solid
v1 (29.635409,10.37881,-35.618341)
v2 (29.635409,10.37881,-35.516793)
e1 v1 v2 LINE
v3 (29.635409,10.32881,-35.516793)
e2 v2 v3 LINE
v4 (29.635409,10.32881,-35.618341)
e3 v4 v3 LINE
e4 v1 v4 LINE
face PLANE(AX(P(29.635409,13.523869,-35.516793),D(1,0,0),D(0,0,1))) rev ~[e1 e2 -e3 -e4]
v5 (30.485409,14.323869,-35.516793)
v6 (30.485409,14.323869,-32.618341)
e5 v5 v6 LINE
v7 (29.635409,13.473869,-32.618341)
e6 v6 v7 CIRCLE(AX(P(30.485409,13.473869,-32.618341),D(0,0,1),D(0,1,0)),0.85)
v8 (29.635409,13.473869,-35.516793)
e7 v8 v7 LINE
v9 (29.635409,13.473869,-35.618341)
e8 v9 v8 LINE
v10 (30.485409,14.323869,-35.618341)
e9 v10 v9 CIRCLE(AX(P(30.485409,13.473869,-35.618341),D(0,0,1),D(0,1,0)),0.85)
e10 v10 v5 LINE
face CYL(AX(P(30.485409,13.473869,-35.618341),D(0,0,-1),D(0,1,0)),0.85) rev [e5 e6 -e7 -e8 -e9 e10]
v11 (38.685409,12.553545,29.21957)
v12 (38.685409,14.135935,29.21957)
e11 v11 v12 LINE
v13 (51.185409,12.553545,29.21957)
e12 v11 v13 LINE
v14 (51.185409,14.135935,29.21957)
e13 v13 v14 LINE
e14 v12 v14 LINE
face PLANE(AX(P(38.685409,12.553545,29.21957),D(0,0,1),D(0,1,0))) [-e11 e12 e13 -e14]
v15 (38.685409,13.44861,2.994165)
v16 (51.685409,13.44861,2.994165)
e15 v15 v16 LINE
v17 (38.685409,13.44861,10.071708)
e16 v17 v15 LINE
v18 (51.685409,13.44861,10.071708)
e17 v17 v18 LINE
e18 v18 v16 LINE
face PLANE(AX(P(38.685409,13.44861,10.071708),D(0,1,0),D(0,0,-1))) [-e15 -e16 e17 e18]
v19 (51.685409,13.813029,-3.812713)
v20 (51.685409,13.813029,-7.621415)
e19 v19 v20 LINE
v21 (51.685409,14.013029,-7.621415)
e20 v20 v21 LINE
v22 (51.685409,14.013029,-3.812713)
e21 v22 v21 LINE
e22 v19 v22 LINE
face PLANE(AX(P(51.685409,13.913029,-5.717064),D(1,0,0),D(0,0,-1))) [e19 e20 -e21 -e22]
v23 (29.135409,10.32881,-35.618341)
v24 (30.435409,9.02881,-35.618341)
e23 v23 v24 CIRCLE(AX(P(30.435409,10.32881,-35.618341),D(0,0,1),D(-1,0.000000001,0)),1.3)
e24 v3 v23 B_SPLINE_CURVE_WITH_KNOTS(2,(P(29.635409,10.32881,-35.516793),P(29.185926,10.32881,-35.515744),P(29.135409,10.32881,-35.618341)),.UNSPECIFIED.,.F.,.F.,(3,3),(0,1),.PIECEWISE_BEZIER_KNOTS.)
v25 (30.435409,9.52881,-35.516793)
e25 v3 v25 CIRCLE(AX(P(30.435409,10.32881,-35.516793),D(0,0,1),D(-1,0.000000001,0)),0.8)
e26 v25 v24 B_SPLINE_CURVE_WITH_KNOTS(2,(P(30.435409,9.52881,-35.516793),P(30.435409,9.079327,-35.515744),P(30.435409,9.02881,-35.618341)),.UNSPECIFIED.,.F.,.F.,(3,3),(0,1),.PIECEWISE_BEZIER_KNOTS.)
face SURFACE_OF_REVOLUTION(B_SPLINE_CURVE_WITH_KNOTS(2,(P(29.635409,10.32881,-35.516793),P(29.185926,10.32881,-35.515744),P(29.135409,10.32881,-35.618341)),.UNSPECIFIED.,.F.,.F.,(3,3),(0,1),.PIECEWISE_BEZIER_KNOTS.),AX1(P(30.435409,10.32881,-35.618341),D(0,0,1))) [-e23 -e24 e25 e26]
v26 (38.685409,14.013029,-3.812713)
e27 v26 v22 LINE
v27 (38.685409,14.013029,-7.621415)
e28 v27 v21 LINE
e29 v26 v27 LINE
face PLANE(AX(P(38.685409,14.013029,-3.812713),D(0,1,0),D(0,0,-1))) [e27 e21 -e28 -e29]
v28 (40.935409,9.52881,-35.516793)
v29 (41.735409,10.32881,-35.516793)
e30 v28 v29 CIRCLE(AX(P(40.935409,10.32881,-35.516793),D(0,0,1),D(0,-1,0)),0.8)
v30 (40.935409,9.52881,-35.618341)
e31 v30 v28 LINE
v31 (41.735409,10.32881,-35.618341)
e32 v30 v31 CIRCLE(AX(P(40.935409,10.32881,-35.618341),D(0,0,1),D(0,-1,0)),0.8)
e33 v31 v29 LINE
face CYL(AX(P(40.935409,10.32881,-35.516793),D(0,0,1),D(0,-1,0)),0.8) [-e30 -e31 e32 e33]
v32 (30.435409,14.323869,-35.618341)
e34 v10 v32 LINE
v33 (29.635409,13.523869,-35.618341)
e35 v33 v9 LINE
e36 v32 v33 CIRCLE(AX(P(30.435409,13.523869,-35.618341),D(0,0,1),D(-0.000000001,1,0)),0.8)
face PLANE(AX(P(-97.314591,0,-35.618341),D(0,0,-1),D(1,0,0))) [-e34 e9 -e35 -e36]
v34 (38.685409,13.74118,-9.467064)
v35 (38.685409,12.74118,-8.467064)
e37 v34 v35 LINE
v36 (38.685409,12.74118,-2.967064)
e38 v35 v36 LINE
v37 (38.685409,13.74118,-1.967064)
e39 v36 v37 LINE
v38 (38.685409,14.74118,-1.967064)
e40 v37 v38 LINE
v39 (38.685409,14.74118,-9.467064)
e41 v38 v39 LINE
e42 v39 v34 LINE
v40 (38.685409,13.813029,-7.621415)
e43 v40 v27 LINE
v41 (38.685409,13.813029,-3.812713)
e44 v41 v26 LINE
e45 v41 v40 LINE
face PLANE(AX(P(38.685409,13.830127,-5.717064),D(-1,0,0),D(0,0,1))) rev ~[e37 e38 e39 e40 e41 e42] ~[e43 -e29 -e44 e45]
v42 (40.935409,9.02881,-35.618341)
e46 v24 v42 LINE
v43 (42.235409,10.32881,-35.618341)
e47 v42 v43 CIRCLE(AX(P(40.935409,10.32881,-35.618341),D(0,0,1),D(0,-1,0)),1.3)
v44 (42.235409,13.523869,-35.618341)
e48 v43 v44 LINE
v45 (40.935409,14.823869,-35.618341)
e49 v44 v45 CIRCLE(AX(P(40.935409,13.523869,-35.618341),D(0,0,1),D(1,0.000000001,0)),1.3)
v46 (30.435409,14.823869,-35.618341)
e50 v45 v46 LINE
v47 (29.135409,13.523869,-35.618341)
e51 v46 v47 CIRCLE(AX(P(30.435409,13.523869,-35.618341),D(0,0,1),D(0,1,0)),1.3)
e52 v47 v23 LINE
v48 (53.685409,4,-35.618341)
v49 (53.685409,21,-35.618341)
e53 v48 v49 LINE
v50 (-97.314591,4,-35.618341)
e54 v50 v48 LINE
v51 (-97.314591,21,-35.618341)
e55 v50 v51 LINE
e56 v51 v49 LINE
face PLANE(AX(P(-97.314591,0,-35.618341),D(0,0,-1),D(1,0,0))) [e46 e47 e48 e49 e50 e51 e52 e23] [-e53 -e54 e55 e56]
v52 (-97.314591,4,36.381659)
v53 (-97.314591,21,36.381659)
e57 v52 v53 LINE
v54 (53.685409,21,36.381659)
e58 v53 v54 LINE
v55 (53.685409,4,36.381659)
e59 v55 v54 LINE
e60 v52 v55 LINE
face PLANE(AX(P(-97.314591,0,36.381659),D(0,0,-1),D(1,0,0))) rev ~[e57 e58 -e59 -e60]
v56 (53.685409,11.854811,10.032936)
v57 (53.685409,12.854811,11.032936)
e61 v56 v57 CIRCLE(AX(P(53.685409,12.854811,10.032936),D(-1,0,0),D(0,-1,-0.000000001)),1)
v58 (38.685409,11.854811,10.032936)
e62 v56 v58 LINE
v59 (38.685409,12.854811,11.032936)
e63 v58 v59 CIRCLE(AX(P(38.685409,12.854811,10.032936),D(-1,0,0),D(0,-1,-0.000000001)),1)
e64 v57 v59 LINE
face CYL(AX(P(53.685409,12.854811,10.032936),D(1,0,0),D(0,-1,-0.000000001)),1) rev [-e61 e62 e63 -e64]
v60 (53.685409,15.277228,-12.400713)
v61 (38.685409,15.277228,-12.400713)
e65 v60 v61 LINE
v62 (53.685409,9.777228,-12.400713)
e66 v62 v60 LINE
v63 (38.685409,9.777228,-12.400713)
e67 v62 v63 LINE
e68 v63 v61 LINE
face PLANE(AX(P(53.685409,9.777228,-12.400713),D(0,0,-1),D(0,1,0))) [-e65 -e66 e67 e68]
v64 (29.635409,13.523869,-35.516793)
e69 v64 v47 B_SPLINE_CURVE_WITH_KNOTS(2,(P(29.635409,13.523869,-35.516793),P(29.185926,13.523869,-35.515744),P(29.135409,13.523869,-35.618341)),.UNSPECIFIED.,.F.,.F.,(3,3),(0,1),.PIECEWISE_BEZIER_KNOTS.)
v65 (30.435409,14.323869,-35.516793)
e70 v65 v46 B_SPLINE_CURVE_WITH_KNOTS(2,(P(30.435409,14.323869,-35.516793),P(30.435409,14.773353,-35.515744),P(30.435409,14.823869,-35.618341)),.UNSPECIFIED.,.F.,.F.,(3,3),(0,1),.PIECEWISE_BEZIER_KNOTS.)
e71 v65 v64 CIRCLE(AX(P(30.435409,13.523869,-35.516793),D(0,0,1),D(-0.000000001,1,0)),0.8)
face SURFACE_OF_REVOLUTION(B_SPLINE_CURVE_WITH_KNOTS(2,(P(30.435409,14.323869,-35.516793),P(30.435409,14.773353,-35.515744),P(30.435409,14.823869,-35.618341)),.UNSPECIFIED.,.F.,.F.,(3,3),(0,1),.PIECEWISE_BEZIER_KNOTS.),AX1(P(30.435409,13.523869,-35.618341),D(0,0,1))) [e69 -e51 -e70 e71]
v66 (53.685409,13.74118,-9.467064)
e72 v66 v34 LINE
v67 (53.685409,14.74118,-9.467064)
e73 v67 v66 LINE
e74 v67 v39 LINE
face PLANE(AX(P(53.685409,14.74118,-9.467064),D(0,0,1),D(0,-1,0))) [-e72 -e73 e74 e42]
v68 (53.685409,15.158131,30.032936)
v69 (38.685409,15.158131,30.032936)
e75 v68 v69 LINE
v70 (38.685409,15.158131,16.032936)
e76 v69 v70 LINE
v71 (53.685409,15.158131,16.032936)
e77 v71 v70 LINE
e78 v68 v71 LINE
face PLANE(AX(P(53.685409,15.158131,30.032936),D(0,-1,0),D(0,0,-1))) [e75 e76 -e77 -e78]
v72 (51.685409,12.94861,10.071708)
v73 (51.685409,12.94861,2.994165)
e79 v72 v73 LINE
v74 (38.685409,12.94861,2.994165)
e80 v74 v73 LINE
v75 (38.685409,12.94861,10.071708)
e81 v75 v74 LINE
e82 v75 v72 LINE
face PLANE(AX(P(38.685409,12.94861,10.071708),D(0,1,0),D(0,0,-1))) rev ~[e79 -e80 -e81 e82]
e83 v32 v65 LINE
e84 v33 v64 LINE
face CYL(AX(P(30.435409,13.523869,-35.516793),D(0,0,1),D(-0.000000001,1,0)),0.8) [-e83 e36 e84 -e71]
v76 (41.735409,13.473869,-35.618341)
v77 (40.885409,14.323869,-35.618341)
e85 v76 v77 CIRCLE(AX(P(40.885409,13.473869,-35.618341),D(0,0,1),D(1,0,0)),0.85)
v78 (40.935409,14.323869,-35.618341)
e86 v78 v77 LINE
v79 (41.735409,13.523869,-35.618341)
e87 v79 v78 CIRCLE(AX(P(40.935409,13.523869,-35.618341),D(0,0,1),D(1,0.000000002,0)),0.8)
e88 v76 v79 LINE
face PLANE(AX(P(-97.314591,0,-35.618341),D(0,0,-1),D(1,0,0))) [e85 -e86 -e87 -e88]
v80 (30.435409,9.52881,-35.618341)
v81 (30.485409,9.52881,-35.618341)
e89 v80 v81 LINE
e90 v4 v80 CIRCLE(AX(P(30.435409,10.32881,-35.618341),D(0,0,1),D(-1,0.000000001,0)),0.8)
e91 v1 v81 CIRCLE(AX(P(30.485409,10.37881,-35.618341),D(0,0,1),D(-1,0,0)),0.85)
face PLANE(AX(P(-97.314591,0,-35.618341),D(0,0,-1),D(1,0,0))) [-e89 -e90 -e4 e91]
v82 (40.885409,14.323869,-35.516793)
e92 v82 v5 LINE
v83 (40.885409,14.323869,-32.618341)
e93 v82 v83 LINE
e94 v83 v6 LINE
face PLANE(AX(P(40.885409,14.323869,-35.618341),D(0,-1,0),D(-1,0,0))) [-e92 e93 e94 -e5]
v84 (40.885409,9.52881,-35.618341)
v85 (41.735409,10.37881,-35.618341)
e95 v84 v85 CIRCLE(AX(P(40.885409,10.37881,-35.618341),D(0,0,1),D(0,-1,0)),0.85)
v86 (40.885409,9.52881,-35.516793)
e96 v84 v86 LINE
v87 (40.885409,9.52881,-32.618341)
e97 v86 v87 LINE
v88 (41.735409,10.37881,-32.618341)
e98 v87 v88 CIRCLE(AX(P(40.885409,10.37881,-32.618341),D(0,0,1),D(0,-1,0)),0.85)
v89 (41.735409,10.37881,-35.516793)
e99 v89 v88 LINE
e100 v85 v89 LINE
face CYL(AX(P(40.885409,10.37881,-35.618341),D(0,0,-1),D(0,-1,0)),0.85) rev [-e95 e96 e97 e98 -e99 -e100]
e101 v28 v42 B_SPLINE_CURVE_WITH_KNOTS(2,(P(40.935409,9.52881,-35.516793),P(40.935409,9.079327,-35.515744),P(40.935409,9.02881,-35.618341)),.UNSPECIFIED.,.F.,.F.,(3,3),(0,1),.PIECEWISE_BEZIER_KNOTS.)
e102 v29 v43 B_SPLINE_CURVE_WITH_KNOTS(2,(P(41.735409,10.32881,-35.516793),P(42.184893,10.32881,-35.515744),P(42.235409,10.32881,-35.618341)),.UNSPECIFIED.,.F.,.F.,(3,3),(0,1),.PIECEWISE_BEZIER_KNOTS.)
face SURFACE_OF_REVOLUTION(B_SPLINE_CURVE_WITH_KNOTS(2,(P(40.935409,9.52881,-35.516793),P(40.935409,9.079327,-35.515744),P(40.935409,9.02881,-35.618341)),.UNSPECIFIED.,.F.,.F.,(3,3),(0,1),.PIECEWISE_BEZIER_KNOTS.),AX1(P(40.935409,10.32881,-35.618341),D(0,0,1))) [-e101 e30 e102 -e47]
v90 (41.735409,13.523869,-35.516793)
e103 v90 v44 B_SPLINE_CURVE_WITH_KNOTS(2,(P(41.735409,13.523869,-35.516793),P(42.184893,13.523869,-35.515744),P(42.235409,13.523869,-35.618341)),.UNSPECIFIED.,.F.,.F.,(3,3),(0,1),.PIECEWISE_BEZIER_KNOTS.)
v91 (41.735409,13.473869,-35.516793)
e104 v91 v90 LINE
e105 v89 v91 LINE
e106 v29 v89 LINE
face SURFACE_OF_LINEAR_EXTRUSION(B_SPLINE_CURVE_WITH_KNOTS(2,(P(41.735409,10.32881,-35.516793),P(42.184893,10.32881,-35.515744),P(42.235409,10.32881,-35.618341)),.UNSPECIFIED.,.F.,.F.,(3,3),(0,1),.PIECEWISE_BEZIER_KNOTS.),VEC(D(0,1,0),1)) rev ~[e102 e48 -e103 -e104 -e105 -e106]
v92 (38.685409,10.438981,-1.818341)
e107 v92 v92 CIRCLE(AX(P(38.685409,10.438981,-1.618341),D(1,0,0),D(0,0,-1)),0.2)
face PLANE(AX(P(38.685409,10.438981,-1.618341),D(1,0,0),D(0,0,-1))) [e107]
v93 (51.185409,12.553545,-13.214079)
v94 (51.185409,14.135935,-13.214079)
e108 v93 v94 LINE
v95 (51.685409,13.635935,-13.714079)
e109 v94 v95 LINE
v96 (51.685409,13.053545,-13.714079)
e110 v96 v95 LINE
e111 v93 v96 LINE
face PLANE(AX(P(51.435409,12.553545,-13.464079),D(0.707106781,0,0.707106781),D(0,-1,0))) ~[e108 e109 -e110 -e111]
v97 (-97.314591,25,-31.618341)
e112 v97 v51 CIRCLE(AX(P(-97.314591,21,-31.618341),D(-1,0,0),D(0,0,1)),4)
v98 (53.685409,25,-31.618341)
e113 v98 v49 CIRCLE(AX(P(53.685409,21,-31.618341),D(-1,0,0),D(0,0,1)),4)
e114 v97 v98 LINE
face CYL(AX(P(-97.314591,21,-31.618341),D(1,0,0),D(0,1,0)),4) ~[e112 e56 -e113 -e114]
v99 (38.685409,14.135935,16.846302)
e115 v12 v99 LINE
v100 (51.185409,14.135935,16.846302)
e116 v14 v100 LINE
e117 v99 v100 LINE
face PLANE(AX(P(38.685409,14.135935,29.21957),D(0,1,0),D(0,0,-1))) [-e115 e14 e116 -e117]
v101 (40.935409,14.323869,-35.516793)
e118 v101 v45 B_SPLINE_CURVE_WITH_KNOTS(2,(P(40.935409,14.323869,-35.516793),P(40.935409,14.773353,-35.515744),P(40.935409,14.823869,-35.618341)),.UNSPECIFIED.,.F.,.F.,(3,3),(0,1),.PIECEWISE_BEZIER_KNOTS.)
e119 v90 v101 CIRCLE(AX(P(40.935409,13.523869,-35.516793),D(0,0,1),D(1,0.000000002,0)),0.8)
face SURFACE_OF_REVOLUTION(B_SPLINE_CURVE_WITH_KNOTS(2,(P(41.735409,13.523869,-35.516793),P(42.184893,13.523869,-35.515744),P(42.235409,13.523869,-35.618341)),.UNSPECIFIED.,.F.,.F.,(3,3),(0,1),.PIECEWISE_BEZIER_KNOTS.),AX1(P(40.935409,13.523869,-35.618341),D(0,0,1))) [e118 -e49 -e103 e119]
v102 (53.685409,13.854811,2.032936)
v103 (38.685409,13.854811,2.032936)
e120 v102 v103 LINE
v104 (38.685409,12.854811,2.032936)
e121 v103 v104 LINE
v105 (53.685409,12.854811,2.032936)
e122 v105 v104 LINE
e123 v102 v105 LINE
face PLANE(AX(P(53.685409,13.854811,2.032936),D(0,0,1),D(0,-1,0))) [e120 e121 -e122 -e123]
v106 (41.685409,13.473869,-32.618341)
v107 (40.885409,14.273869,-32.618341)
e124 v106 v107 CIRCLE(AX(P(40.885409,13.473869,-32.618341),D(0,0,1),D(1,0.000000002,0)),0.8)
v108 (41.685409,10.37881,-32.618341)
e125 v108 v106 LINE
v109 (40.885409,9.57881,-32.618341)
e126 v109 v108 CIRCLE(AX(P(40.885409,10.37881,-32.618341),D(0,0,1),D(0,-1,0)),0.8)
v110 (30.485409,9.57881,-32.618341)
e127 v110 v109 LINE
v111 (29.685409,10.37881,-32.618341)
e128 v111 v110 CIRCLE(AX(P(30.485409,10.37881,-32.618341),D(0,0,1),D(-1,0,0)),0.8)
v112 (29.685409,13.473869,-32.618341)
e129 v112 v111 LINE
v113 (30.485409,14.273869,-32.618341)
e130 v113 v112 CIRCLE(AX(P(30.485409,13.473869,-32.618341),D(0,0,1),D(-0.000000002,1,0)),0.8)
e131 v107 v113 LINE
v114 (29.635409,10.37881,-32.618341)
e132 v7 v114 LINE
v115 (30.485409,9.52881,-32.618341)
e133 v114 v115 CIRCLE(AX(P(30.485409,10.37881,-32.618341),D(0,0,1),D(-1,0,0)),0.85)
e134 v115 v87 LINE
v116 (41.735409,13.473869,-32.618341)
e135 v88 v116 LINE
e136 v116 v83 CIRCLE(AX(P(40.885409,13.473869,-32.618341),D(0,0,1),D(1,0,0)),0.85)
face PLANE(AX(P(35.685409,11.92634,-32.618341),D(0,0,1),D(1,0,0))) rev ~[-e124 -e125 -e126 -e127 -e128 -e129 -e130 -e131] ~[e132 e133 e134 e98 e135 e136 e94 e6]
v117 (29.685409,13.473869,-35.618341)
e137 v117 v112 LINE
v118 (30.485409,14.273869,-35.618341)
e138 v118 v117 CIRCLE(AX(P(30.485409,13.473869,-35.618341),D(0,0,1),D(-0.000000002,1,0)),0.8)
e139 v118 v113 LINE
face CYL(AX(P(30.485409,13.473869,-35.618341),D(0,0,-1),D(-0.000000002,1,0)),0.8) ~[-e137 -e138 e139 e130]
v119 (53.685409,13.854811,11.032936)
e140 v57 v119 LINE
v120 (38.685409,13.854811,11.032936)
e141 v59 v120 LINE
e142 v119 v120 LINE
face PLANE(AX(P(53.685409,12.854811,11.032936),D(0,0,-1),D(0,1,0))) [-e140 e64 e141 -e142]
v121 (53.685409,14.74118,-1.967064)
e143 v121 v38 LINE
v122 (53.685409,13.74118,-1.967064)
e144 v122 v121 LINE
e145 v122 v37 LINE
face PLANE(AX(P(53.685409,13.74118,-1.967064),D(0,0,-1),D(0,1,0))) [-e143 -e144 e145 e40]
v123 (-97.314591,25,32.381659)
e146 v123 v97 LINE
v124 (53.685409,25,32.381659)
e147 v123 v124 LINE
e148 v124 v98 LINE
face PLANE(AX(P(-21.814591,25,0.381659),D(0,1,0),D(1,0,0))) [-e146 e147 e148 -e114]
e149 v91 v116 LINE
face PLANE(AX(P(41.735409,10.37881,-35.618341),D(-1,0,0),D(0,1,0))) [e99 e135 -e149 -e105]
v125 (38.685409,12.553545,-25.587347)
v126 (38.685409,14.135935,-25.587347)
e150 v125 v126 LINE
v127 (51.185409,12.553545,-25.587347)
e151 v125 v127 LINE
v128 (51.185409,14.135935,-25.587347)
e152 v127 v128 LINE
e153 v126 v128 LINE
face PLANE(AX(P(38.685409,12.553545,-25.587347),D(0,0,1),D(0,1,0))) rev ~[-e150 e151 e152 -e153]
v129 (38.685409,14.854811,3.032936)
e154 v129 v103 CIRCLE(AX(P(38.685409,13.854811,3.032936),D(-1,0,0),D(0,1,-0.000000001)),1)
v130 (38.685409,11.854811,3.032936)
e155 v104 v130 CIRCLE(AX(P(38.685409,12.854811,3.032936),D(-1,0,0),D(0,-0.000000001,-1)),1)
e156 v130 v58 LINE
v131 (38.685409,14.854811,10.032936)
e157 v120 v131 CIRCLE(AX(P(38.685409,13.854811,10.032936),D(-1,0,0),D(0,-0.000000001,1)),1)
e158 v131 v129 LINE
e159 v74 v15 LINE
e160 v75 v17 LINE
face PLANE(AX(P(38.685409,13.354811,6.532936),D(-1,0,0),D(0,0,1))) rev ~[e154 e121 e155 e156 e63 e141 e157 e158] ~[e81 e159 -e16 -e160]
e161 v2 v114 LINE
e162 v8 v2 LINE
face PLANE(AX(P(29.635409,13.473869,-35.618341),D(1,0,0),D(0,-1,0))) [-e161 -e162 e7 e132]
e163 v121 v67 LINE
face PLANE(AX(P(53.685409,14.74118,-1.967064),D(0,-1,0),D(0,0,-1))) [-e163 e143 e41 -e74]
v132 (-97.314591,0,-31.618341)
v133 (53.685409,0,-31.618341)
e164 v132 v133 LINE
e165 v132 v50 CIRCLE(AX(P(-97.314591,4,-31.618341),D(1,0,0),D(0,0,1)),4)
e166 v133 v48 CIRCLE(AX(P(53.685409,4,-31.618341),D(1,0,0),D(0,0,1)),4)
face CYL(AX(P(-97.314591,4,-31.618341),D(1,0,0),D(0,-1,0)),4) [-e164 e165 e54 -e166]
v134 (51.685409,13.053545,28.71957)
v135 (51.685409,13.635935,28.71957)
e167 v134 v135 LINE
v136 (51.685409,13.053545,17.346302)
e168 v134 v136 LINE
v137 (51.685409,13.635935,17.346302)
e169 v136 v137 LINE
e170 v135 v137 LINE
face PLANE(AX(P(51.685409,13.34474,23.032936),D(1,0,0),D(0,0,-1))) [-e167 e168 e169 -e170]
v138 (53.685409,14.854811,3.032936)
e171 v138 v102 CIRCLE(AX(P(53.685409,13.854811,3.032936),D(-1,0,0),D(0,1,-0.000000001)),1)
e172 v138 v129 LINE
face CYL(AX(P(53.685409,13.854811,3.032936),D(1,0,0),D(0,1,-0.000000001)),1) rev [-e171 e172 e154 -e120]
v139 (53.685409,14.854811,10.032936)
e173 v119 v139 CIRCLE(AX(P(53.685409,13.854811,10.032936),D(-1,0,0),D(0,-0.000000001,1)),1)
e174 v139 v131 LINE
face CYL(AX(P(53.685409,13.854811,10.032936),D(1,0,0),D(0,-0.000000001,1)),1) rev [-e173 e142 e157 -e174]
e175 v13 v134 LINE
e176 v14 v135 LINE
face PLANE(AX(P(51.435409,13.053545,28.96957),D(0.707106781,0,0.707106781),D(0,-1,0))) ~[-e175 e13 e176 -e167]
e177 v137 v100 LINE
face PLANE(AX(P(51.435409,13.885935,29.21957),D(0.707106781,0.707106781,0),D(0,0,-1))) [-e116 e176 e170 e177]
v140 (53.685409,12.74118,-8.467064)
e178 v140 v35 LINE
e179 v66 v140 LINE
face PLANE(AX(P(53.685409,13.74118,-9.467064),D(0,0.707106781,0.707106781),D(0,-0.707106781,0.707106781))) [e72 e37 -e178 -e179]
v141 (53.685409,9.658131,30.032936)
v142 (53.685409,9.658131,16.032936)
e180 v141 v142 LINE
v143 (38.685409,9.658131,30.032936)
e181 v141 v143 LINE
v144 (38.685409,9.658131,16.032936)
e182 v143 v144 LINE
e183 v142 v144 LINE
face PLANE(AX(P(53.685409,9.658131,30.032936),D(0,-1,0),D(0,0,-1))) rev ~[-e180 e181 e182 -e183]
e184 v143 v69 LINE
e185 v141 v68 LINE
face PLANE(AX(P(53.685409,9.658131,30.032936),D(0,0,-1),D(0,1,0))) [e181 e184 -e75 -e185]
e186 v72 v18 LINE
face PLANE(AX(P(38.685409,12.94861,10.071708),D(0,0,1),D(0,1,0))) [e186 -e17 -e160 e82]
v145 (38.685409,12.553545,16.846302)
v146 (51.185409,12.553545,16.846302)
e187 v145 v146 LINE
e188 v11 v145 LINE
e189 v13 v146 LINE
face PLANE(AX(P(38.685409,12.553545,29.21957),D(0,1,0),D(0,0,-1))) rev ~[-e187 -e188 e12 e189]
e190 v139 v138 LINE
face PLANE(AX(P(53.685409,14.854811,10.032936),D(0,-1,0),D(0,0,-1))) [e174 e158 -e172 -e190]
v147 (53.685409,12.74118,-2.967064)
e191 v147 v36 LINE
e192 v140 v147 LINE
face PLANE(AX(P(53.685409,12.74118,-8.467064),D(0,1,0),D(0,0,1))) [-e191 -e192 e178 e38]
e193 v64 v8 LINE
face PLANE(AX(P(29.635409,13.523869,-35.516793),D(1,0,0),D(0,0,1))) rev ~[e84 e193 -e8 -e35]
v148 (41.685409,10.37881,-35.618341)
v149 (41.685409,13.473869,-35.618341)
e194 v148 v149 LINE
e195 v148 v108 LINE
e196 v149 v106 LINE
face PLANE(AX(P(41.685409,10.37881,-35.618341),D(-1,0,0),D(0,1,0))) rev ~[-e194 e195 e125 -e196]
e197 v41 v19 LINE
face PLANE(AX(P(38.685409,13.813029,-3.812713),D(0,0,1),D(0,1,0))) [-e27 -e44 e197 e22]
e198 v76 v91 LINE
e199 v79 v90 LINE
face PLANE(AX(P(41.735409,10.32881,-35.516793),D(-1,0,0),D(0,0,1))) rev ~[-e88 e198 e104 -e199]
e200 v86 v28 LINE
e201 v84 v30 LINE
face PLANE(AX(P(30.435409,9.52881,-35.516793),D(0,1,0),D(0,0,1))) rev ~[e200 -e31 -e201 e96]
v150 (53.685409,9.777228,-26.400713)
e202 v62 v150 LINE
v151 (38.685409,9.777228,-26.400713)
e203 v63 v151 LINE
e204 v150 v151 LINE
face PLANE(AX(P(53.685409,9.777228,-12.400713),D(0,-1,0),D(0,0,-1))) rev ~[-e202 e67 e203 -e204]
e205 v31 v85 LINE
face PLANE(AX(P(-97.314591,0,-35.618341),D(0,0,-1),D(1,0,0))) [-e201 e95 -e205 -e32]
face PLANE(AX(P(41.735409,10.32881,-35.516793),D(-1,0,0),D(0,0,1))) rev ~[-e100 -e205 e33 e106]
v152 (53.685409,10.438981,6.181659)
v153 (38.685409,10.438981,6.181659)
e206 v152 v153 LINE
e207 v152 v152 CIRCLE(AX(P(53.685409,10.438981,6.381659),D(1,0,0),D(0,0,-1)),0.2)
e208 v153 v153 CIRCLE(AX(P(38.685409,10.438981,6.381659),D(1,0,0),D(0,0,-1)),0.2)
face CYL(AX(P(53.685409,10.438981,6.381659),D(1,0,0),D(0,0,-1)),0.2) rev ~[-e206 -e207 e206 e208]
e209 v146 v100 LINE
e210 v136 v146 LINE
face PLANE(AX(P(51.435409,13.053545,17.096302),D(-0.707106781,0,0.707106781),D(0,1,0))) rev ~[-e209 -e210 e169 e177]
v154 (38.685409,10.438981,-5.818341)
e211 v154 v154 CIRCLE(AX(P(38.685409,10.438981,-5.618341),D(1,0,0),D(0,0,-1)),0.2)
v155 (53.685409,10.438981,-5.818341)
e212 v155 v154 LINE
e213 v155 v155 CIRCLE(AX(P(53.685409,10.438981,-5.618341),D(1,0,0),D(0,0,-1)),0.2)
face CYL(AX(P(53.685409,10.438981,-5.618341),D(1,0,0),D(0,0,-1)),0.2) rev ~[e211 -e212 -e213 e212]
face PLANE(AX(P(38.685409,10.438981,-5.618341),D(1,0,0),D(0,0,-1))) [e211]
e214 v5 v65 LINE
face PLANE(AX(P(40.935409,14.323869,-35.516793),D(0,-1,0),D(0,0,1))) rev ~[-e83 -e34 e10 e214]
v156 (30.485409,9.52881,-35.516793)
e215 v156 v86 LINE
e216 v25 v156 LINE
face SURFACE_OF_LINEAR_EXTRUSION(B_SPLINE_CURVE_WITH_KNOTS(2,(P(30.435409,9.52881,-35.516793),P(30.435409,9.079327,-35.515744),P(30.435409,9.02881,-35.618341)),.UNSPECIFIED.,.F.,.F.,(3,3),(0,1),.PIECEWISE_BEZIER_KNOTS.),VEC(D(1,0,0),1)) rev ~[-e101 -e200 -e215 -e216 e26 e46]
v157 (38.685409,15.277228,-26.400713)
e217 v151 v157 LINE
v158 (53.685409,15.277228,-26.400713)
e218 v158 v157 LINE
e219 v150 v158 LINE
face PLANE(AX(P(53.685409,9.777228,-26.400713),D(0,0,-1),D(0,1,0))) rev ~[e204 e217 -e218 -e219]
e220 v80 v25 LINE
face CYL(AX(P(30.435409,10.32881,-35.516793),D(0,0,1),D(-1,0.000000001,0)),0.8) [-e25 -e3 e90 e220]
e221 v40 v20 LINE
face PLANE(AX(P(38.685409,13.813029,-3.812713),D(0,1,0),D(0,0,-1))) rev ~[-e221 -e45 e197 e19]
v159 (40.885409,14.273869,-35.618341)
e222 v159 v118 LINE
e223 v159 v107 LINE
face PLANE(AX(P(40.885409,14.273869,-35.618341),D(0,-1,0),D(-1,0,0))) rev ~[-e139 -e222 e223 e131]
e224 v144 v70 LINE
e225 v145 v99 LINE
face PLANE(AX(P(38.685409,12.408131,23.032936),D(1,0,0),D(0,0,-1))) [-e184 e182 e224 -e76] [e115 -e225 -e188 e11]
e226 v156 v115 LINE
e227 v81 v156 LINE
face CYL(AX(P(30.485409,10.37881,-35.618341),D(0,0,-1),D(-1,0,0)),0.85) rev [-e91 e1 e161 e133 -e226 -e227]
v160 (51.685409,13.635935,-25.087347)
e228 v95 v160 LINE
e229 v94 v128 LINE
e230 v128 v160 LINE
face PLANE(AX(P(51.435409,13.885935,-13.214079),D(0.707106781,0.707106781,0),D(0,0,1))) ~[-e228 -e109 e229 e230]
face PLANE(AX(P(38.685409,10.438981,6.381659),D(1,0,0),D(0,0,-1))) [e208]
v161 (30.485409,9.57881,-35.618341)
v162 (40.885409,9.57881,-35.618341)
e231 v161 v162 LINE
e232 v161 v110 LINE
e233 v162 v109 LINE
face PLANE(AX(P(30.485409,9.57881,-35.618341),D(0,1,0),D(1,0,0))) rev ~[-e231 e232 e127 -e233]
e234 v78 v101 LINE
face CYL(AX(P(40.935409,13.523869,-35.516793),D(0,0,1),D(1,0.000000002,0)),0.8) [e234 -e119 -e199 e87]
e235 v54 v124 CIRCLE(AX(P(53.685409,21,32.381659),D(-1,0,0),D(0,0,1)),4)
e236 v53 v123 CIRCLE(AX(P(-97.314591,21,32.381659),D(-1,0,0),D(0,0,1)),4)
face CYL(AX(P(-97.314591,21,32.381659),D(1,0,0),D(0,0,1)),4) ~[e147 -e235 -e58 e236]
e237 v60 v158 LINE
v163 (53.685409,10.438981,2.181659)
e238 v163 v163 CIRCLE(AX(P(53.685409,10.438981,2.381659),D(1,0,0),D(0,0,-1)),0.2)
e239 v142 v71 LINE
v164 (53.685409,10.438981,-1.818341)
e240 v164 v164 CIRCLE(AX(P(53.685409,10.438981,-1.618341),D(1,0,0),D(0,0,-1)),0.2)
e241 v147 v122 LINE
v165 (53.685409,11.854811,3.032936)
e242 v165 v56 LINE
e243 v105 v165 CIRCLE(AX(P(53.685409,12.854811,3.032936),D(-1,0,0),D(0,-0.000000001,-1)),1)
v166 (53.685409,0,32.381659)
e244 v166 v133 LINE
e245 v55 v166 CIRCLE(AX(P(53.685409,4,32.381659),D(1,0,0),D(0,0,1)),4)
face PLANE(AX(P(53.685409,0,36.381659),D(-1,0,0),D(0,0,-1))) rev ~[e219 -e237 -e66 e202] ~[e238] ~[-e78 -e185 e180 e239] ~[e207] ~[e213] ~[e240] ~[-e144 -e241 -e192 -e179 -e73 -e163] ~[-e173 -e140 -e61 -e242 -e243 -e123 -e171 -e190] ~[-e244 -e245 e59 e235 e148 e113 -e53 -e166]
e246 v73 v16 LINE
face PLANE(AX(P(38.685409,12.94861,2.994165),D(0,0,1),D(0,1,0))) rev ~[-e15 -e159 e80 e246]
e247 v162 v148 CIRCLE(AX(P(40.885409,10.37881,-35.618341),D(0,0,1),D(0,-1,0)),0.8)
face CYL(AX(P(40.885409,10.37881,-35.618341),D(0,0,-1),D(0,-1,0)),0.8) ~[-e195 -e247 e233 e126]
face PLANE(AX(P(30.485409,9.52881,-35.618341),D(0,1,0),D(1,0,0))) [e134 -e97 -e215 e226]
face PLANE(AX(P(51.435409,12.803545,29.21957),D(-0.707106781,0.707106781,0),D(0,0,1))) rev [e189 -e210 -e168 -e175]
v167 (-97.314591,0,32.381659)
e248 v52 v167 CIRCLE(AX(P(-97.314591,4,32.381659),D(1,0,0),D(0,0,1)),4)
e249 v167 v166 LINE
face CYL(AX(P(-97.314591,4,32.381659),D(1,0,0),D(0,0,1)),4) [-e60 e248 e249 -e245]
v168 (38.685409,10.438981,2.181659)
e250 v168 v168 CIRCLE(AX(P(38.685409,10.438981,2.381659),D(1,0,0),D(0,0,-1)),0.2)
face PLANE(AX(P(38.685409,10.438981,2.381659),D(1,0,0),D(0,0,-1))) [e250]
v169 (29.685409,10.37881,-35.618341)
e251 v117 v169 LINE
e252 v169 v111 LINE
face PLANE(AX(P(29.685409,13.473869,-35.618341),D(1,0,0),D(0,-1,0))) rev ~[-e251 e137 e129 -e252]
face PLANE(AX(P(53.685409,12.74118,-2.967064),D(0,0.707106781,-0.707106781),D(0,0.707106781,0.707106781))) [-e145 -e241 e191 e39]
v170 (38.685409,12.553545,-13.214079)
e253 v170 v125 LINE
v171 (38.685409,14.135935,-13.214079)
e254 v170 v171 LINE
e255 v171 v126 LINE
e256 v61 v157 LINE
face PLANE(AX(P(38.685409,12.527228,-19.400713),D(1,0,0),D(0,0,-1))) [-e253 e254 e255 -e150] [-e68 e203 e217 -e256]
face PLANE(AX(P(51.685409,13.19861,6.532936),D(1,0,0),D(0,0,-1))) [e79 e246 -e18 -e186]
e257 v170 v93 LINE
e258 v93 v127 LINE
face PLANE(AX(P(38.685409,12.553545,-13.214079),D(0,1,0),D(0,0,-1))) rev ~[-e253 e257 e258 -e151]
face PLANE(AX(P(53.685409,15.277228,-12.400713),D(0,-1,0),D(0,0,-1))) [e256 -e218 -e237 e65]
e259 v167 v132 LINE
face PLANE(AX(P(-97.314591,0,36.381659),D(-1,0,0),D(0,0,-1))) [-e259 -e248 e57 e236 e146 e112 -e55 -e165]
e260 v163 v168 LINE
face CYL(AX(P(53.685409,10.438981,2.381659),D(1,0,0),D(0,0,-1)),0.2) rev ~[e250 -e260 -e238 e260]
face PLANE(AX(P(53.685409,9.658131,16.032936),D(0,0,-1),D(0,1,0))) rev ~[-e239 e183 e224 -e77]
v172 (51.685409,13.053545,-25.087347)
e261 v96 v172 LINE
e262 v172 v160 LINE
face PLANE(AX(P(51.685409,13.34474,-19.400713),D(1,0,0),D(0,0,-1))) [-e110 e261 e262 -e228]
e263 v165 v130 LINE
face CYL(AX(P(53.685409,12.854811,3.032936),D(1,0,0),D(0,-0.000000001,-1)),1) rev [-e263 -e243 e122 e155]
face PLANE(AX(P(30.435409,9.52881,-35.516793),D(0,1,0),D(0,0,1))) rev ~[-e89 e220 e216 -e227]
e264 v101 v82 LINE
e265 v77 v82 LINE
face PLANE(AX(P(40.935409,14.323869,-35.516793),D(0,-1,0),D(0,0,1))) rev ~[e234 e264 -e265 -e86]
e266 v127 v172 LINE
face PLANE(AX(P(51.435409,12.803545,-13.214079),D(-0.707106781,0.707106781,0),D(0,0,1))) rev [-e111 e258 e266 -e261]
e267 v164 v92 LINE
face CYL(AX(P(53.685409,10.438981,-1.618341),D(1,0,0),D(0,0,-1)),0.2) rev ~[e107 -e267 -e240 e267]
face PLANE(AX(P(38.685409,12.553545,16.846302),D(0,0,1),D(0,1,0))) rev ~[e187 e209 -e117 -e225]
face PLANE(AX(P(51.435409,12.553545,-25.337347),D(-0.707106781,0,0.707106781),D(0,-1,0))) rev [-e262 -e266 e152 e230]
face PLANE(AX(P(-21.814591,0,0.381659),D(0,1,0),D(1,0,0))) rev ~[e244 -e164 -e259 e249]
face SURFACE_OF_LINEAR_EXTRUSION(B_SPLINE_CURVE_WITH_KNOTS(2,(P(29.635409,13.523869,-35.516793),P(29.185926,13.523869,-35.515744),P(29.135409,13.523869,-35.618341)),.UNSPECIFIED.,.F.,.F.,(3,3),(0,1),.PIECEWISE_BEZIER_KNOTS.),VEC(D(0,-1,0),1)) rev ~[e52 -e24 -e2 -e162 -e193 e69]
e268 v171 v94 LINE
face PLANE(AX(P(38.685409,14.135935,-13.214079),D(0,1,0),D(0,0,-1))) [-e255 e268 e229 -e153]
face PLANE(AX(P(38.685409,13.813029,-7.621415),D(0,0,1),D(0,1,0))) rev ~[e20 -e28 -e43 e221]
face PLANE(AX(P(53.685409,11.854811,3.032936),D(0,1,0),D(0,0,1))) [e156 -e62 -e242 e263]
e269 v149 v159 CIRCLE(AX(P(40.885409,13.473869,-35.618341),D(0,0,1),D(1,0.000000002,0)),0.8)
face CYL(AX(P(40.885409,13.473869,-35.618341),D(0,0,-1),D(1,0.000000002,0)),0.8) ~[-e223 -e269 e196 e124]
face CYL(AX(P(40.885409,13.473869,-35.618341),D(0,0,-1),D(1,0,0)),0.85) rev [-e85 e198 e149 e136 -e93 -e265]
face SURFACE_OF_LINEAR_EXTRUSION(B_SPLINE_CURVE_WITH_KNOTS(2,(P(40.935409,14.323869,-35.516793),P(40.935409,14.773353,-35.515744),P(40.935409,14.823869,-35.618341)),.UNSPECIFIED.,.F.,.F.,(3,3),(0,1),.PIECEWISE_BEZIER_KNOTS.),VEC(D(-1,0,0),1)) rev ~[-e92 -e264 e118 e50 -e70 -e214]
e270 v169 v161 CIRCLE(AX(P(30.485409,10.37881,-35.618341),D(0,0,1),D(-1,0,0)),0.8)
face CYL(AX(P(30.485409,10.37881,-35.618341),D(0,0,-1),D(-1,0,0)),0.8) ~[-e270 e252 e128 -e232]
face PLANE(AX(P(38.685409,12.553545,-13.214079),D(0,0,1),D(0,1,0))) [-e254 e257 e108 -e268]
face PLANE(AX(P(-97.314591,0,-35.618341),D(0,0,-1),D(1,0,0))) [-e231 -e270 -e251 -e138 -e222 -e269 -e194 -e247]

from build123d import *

# Parameters (mm, degrees)
SKETCH_1_W          = 151
SKETCH_1_H          = 72
EXTRUDE_1_DEPTH     = 25
FILLET_1_R          = 4
FILLET_2_R          = 4
FILLET_3_R          = 4
FILLET_4_R          = 4
SKETCH_2_R          = 0.2
SKETCH_2_W          = 14
SKETCH_2_H          = 5.5
CUT_EXTRUDE_1_DEPTH = 15
SKETCH_3_W          = 12.373268072
SKETCH_3_H          = 1.582389444
SKETCH_3_W_2        = 7.077543374
SKETCH_3_H_2        = 0.5
SKETCH_3_W_3        = 3.808702178
SKETCH_3_H_3        = 0.2
EXTRUDE_2_DEPTH     = 13
CHAMFER_1_SIZE      = 0.5
CHAMFER_2_SIZE      = 0.5
CHAMFER_3_SIZE      = 0.5
CHAMFER_4_SIZE      = 0.5
CHAMFER_5_SIZE      = 0.5
CUT_EXTRUDE_2_DEPTH = 3


with BuildPart() as part:
    # 草图1 → 凸台-拉伸1 (new body)
    with BuildSketch(Plane(origin=(0, 0, 0), x_dir=(1, 0, 0), z_dir=(0, 1, 0))):
        with Locations((-21.814590862, -0.38165894)):
            Rectangle(SKETCH_1_W, SKETCH_1_H)
    extrude(amount=EXTRUDE_1_DEPTH)

    # 圆角1
    fillet_1_edges = [part.edges().sort_by_distance(p)[0] for p in [
        (-21.814590862, 25, 36.38165894),
    ]]
    fillet(fillet_1_edges, radius=FILLET_1_R)

    # 圆角2
    fillet_2_edges = [part.edges().sort_by_distance(p)[0] for p in [
        (-21.814590862, 25, -35.61834106),
    ]]
    fillet(fillet_2_edges, radius=FILLET_2_R)

    # 圆角3
    fillet_3_edges = [part.edges().sort_by_distance(p)[0] for p in [
        (-21.814590862, 0, 36.38165894),
    ]]
    fillet(fillet_3_edges, radius=FILLET_3_R)

    # 圆角4
    fillet_4_edges = [part.edges().sort_by_distance(p)[0] for p in [
        (-21.814590862, 0, -35.61834106),
    ]]
    fillet(fillet_4_edges, radius=FILLET_4_R)

    # 草图2 → 切除-拉伸1 (cut)
    with BuildSketch(Plane(origin=(53.685409138, 0, 0), x_dir=(0, 0, -1), z_dir=(1, 0, 0))):
        with Locations((-6.38165894, 10.438981293)):
            Circle(SKETCH_2_R)
        with Locations((-2.38165894, 10.438981293)):
            Circle(SKETCH_2_R)
        with Locations((1.61834106, 10.438981293)):
            Circle(SKETCH_2_R)
        with Locations((5.61834106, 10.438981293)):
            Circle(SKETCH_2_R)
        with Locations((-23.032936311, 12.408130846)):
            Rectangle(SKETCH_2_W, SKETCH_2_H)
        with BuildLine():
            Line((-10.032936311, 14.854810604), (-3.032936311, 14.854810604))
            ThreePointArc((-3.032936311, 14.854810604), (-2.32582953, 14.561917385), (-2.032936311, 13.854810604))
            Line((-2.032936311, 13.854810604), (-2.032936311, 12.854810604))
            ThreePointArc((-2.032936311, 12.854810604), (-2.32582953, 12.147703823), (-3.032936311, 11.854810604))
            Line((-3.032936311, 11.854810604), (-10.032936311, 11.854810604))
            ThreePointArc((-10.032936311, 11.854810604), (-10.740043093, 12.147703823), (-11.032936311, 12.854810604))
            Line((-11.032936311, 12.854810604), (-11.032936311, 13.854810604))
            ThreePointArc((-11.032936311, 13.854810604), (-10.740043093, 14.561917385), (-10.032936311, 14.854810604))
        make_face()
        Polygon((1.967063689, 14.74117963), (9.467063689, 14.74117963), (9.467063689, 13.74117963), (8.467063689, 12.74117963), (2.967063689, 12.74117963), (1.967063689, 13.74117963), align=None)
        with Locations((19.400712994, 12.527228442)):
            Rectangle(SKETCH_2_W, SKETCH_2_H)
    extrude(amount=-CUT_EXTRUDE_1_DEPTH, mode=Mode.SUBTRACT)

    # 草图3 → 凸台-拉伸2 (add)
    with BuildSketch(Plane(origin=(38.685409138, 0, 0), x_dir=(0, 0, -1), z_dir=(1, 0, 0))):
        with Locations((-23.032936311, 13.344739888)):
            Rectangle(SKETCH_3_W, SKETCH_3_H)
        with Locations((19.400712994, 13.344739888)):
            Rectangle(SKETCH_3_W, SKETCH_3_H)
        with Locations((-6.532936311, 13.198610031)):
            Rectangle(SKETCH_3_W_2, SKETCH_3_H_2)
        with Locations((5.717063689, 13.913029352)):
            Rectangle(SKETCH_3_W_3, SKETCH_3_H_3)
    extrude(amount=EXTRUDE_2_DEPTH)

    # 倒角1
    chamfer_1_edges = [part.edges().sort_by_distance(p)[0] for p in [
        (51.685409138, 12.553545166, 23.032936311),
    ]]
    chamfer(chamfer_1_edges, length=CHAMFER_1_SIZE)

    # 倒角2
    chamfer_2_edges = [part.edges().sort_by_distance(p)[0] for p in [
        (51.685409138, 14.13593461, 23.032936311),
    ]]
    chamfer(chamfer_2_edges, length=CHAMFER_2_SIZE)

    # 倒角3
    chamfer_3_edges = [part.edges().sort_by_distance(p)[0] for p in [
        (51.685409138, 13.344739888, 29.219570347),
    ]]
    chamfer(chamfer_3_edges, length=CHAMFER_3_SIZE)

    # 倒角4
    chamfer_4_edges = [part.edges().sort_by_distance(p)[0] for p in [
        (51.685409138, 13.344739888, 16.846302275),
    ]]
    chamfer(chamfer_4_edges, length=CHAMFER_4_SIZE)

    # 倒角5
    chamfer_5_edges = [part.edges().sort_by_distance(p)[0] for p in [
        (51.685409138, 13.344739888, -13.214078958),
        (51.685409138, 12.553545166, -19.400712994),
        (51.685409138, 13.344739888, -25.58734703),
        (51.685409138, 14.13593461, -19.400712994),
    ]]
    chamfer(chamfer_5_edges, length=CHAMFER_5_SIZE)

    # 草图4 → 切除-拉伸2 (cut)
    with BuildSketch(Plane(origin=(0, 0, -35.61834106), x_dir=(-1, 0, 0), z_dir=(0, 0, -1))):
        with BuildLine():
            Line((-40.885409138, 14.323868956), (-30.485409138, 14.323868956))
            ThreePointArc((-30.485409138, 14.323868956), (-29.884368374, 14.07490972), (-29.635409138, 13.473868956))
            Line((-29.635409138, 13.473868956), (-29.635409138, 10.378810207))
            ThreePointArc((-29.635409138, 10.378810207), (-29.884368374, 9.777769443), (-30.485409138, 9.528810207))
            Line((-30.485409138, 9.528810207), (-40.885409138, 9.528810207))
            ThreePointArc((-40.885409138, 9.528810207), (-41.486449902, 9.777769443), (-41.735409138, 10.378810207))
            Line((-41.735409138, 10.378810207), (-41.735409138, 13.473868956))
            ThreePointArc((-41.735409138, 13.473868956), (-41.486449902, 14.07490972), (-40.885409138, 14.323868956))
        make_face()
        with BuildLine():
            Line((-40.885409138, 14.273868956), (-30.485409138, 14.273868956))
            ThreePointArc((-30.485409138, 14.273868956), (-29.919723713, 14.03955438), (-29.685409138, 13.473868956))
            Line((-29.685409138, 13.473868956), (-29.685409138, 10.378810207))
            ThreePointArc((-29.685409138, 10.378810207), (-29.919723713, 9.813124782), (-30.485409138, 9.578810207))
            Line((-30.485409138, 9.578810207), (-40.885409138, 9.578810207))
            ThreePointArc((-40.885409138, 9.578810207), (-41.451094563, 9.813124782), (-41.685409138, 10.378810207))
            Line((-41.685409138, 10.378810207), (-41.685409138, 13.473868956))
            ThreePointArc((-41.685409138, 13.473868956), (-41.451094563, 14.03955438), (-40.885409138, 14.273868956))
        make_face(mode=Mode.SUBTRACT)
    extrude(amount=-CUT_EXTRUDE_2_DEPTH, mode=Mode.SUBTRACT)

    # 切除-扫描1: sweep along a path in 草图5
    with BuildLine(Plane(origin=(0, 0, -35.61834106), x_dir=(-1, 0, 0), z_dir=(0, 0, -1))) as sweep_1_path:
        Line((-40.935409138, 14.823868956), (-30.435409138, 14.823868956))
        ThreePointArc((-30.435409138, 14.823868956), (-29.516170322, 14.443107771), (-29.135409138, 13.523868956))
        Line((-29.135409138, 13.523868956), (-29.135409138, 10.328810207))
        ThreePointArc((-29.135409138, 10.328810207), (-29.516170322, 9.409571391), (-30.435409138, 9.028810207))
        Line((-30.435409138, 9.028810207), (-40.935409138, 9.028810207))
        ThreePointArc((-40.935409138, 9.028810207), (-41.854647953, 9.409571391), (-42.235409138, 10.328810207))
        Line((-42.235409138, 10.328810207), (-42.235409138, 13.523868956))
        ThreePointArc((-42.235409138, 13.523868956), (-41.854647953, 14.443107771), (-40.935409138, 14.823868956))
    # 草图6 → 切除-扫描1 (sweep, cut)
    with BuildSketch(Plane(origin=(0, 11, 0), x_dir=(1, 0, 0), z_dir=(0, 1, 0))):
        with BuildLine():
            Line((41.735409138, 35.51679266), (41.735409138, 35.61834106))
            Line((41.735409138, 35.61834106), (42.235409138, 35.61834106))
            add(Edge.make_bspline(
                [(42.235409138, 35.61834106), (42.184892706, 35.515744093), (41.735409138, 35.51679266)],
                knots=[0, 0, 0, 1, 1, 1], degree=2))
        make_face()
    sweep(path=sweep_1_path.line, mode=Mode.SUBTRACT)


solid = part.part
